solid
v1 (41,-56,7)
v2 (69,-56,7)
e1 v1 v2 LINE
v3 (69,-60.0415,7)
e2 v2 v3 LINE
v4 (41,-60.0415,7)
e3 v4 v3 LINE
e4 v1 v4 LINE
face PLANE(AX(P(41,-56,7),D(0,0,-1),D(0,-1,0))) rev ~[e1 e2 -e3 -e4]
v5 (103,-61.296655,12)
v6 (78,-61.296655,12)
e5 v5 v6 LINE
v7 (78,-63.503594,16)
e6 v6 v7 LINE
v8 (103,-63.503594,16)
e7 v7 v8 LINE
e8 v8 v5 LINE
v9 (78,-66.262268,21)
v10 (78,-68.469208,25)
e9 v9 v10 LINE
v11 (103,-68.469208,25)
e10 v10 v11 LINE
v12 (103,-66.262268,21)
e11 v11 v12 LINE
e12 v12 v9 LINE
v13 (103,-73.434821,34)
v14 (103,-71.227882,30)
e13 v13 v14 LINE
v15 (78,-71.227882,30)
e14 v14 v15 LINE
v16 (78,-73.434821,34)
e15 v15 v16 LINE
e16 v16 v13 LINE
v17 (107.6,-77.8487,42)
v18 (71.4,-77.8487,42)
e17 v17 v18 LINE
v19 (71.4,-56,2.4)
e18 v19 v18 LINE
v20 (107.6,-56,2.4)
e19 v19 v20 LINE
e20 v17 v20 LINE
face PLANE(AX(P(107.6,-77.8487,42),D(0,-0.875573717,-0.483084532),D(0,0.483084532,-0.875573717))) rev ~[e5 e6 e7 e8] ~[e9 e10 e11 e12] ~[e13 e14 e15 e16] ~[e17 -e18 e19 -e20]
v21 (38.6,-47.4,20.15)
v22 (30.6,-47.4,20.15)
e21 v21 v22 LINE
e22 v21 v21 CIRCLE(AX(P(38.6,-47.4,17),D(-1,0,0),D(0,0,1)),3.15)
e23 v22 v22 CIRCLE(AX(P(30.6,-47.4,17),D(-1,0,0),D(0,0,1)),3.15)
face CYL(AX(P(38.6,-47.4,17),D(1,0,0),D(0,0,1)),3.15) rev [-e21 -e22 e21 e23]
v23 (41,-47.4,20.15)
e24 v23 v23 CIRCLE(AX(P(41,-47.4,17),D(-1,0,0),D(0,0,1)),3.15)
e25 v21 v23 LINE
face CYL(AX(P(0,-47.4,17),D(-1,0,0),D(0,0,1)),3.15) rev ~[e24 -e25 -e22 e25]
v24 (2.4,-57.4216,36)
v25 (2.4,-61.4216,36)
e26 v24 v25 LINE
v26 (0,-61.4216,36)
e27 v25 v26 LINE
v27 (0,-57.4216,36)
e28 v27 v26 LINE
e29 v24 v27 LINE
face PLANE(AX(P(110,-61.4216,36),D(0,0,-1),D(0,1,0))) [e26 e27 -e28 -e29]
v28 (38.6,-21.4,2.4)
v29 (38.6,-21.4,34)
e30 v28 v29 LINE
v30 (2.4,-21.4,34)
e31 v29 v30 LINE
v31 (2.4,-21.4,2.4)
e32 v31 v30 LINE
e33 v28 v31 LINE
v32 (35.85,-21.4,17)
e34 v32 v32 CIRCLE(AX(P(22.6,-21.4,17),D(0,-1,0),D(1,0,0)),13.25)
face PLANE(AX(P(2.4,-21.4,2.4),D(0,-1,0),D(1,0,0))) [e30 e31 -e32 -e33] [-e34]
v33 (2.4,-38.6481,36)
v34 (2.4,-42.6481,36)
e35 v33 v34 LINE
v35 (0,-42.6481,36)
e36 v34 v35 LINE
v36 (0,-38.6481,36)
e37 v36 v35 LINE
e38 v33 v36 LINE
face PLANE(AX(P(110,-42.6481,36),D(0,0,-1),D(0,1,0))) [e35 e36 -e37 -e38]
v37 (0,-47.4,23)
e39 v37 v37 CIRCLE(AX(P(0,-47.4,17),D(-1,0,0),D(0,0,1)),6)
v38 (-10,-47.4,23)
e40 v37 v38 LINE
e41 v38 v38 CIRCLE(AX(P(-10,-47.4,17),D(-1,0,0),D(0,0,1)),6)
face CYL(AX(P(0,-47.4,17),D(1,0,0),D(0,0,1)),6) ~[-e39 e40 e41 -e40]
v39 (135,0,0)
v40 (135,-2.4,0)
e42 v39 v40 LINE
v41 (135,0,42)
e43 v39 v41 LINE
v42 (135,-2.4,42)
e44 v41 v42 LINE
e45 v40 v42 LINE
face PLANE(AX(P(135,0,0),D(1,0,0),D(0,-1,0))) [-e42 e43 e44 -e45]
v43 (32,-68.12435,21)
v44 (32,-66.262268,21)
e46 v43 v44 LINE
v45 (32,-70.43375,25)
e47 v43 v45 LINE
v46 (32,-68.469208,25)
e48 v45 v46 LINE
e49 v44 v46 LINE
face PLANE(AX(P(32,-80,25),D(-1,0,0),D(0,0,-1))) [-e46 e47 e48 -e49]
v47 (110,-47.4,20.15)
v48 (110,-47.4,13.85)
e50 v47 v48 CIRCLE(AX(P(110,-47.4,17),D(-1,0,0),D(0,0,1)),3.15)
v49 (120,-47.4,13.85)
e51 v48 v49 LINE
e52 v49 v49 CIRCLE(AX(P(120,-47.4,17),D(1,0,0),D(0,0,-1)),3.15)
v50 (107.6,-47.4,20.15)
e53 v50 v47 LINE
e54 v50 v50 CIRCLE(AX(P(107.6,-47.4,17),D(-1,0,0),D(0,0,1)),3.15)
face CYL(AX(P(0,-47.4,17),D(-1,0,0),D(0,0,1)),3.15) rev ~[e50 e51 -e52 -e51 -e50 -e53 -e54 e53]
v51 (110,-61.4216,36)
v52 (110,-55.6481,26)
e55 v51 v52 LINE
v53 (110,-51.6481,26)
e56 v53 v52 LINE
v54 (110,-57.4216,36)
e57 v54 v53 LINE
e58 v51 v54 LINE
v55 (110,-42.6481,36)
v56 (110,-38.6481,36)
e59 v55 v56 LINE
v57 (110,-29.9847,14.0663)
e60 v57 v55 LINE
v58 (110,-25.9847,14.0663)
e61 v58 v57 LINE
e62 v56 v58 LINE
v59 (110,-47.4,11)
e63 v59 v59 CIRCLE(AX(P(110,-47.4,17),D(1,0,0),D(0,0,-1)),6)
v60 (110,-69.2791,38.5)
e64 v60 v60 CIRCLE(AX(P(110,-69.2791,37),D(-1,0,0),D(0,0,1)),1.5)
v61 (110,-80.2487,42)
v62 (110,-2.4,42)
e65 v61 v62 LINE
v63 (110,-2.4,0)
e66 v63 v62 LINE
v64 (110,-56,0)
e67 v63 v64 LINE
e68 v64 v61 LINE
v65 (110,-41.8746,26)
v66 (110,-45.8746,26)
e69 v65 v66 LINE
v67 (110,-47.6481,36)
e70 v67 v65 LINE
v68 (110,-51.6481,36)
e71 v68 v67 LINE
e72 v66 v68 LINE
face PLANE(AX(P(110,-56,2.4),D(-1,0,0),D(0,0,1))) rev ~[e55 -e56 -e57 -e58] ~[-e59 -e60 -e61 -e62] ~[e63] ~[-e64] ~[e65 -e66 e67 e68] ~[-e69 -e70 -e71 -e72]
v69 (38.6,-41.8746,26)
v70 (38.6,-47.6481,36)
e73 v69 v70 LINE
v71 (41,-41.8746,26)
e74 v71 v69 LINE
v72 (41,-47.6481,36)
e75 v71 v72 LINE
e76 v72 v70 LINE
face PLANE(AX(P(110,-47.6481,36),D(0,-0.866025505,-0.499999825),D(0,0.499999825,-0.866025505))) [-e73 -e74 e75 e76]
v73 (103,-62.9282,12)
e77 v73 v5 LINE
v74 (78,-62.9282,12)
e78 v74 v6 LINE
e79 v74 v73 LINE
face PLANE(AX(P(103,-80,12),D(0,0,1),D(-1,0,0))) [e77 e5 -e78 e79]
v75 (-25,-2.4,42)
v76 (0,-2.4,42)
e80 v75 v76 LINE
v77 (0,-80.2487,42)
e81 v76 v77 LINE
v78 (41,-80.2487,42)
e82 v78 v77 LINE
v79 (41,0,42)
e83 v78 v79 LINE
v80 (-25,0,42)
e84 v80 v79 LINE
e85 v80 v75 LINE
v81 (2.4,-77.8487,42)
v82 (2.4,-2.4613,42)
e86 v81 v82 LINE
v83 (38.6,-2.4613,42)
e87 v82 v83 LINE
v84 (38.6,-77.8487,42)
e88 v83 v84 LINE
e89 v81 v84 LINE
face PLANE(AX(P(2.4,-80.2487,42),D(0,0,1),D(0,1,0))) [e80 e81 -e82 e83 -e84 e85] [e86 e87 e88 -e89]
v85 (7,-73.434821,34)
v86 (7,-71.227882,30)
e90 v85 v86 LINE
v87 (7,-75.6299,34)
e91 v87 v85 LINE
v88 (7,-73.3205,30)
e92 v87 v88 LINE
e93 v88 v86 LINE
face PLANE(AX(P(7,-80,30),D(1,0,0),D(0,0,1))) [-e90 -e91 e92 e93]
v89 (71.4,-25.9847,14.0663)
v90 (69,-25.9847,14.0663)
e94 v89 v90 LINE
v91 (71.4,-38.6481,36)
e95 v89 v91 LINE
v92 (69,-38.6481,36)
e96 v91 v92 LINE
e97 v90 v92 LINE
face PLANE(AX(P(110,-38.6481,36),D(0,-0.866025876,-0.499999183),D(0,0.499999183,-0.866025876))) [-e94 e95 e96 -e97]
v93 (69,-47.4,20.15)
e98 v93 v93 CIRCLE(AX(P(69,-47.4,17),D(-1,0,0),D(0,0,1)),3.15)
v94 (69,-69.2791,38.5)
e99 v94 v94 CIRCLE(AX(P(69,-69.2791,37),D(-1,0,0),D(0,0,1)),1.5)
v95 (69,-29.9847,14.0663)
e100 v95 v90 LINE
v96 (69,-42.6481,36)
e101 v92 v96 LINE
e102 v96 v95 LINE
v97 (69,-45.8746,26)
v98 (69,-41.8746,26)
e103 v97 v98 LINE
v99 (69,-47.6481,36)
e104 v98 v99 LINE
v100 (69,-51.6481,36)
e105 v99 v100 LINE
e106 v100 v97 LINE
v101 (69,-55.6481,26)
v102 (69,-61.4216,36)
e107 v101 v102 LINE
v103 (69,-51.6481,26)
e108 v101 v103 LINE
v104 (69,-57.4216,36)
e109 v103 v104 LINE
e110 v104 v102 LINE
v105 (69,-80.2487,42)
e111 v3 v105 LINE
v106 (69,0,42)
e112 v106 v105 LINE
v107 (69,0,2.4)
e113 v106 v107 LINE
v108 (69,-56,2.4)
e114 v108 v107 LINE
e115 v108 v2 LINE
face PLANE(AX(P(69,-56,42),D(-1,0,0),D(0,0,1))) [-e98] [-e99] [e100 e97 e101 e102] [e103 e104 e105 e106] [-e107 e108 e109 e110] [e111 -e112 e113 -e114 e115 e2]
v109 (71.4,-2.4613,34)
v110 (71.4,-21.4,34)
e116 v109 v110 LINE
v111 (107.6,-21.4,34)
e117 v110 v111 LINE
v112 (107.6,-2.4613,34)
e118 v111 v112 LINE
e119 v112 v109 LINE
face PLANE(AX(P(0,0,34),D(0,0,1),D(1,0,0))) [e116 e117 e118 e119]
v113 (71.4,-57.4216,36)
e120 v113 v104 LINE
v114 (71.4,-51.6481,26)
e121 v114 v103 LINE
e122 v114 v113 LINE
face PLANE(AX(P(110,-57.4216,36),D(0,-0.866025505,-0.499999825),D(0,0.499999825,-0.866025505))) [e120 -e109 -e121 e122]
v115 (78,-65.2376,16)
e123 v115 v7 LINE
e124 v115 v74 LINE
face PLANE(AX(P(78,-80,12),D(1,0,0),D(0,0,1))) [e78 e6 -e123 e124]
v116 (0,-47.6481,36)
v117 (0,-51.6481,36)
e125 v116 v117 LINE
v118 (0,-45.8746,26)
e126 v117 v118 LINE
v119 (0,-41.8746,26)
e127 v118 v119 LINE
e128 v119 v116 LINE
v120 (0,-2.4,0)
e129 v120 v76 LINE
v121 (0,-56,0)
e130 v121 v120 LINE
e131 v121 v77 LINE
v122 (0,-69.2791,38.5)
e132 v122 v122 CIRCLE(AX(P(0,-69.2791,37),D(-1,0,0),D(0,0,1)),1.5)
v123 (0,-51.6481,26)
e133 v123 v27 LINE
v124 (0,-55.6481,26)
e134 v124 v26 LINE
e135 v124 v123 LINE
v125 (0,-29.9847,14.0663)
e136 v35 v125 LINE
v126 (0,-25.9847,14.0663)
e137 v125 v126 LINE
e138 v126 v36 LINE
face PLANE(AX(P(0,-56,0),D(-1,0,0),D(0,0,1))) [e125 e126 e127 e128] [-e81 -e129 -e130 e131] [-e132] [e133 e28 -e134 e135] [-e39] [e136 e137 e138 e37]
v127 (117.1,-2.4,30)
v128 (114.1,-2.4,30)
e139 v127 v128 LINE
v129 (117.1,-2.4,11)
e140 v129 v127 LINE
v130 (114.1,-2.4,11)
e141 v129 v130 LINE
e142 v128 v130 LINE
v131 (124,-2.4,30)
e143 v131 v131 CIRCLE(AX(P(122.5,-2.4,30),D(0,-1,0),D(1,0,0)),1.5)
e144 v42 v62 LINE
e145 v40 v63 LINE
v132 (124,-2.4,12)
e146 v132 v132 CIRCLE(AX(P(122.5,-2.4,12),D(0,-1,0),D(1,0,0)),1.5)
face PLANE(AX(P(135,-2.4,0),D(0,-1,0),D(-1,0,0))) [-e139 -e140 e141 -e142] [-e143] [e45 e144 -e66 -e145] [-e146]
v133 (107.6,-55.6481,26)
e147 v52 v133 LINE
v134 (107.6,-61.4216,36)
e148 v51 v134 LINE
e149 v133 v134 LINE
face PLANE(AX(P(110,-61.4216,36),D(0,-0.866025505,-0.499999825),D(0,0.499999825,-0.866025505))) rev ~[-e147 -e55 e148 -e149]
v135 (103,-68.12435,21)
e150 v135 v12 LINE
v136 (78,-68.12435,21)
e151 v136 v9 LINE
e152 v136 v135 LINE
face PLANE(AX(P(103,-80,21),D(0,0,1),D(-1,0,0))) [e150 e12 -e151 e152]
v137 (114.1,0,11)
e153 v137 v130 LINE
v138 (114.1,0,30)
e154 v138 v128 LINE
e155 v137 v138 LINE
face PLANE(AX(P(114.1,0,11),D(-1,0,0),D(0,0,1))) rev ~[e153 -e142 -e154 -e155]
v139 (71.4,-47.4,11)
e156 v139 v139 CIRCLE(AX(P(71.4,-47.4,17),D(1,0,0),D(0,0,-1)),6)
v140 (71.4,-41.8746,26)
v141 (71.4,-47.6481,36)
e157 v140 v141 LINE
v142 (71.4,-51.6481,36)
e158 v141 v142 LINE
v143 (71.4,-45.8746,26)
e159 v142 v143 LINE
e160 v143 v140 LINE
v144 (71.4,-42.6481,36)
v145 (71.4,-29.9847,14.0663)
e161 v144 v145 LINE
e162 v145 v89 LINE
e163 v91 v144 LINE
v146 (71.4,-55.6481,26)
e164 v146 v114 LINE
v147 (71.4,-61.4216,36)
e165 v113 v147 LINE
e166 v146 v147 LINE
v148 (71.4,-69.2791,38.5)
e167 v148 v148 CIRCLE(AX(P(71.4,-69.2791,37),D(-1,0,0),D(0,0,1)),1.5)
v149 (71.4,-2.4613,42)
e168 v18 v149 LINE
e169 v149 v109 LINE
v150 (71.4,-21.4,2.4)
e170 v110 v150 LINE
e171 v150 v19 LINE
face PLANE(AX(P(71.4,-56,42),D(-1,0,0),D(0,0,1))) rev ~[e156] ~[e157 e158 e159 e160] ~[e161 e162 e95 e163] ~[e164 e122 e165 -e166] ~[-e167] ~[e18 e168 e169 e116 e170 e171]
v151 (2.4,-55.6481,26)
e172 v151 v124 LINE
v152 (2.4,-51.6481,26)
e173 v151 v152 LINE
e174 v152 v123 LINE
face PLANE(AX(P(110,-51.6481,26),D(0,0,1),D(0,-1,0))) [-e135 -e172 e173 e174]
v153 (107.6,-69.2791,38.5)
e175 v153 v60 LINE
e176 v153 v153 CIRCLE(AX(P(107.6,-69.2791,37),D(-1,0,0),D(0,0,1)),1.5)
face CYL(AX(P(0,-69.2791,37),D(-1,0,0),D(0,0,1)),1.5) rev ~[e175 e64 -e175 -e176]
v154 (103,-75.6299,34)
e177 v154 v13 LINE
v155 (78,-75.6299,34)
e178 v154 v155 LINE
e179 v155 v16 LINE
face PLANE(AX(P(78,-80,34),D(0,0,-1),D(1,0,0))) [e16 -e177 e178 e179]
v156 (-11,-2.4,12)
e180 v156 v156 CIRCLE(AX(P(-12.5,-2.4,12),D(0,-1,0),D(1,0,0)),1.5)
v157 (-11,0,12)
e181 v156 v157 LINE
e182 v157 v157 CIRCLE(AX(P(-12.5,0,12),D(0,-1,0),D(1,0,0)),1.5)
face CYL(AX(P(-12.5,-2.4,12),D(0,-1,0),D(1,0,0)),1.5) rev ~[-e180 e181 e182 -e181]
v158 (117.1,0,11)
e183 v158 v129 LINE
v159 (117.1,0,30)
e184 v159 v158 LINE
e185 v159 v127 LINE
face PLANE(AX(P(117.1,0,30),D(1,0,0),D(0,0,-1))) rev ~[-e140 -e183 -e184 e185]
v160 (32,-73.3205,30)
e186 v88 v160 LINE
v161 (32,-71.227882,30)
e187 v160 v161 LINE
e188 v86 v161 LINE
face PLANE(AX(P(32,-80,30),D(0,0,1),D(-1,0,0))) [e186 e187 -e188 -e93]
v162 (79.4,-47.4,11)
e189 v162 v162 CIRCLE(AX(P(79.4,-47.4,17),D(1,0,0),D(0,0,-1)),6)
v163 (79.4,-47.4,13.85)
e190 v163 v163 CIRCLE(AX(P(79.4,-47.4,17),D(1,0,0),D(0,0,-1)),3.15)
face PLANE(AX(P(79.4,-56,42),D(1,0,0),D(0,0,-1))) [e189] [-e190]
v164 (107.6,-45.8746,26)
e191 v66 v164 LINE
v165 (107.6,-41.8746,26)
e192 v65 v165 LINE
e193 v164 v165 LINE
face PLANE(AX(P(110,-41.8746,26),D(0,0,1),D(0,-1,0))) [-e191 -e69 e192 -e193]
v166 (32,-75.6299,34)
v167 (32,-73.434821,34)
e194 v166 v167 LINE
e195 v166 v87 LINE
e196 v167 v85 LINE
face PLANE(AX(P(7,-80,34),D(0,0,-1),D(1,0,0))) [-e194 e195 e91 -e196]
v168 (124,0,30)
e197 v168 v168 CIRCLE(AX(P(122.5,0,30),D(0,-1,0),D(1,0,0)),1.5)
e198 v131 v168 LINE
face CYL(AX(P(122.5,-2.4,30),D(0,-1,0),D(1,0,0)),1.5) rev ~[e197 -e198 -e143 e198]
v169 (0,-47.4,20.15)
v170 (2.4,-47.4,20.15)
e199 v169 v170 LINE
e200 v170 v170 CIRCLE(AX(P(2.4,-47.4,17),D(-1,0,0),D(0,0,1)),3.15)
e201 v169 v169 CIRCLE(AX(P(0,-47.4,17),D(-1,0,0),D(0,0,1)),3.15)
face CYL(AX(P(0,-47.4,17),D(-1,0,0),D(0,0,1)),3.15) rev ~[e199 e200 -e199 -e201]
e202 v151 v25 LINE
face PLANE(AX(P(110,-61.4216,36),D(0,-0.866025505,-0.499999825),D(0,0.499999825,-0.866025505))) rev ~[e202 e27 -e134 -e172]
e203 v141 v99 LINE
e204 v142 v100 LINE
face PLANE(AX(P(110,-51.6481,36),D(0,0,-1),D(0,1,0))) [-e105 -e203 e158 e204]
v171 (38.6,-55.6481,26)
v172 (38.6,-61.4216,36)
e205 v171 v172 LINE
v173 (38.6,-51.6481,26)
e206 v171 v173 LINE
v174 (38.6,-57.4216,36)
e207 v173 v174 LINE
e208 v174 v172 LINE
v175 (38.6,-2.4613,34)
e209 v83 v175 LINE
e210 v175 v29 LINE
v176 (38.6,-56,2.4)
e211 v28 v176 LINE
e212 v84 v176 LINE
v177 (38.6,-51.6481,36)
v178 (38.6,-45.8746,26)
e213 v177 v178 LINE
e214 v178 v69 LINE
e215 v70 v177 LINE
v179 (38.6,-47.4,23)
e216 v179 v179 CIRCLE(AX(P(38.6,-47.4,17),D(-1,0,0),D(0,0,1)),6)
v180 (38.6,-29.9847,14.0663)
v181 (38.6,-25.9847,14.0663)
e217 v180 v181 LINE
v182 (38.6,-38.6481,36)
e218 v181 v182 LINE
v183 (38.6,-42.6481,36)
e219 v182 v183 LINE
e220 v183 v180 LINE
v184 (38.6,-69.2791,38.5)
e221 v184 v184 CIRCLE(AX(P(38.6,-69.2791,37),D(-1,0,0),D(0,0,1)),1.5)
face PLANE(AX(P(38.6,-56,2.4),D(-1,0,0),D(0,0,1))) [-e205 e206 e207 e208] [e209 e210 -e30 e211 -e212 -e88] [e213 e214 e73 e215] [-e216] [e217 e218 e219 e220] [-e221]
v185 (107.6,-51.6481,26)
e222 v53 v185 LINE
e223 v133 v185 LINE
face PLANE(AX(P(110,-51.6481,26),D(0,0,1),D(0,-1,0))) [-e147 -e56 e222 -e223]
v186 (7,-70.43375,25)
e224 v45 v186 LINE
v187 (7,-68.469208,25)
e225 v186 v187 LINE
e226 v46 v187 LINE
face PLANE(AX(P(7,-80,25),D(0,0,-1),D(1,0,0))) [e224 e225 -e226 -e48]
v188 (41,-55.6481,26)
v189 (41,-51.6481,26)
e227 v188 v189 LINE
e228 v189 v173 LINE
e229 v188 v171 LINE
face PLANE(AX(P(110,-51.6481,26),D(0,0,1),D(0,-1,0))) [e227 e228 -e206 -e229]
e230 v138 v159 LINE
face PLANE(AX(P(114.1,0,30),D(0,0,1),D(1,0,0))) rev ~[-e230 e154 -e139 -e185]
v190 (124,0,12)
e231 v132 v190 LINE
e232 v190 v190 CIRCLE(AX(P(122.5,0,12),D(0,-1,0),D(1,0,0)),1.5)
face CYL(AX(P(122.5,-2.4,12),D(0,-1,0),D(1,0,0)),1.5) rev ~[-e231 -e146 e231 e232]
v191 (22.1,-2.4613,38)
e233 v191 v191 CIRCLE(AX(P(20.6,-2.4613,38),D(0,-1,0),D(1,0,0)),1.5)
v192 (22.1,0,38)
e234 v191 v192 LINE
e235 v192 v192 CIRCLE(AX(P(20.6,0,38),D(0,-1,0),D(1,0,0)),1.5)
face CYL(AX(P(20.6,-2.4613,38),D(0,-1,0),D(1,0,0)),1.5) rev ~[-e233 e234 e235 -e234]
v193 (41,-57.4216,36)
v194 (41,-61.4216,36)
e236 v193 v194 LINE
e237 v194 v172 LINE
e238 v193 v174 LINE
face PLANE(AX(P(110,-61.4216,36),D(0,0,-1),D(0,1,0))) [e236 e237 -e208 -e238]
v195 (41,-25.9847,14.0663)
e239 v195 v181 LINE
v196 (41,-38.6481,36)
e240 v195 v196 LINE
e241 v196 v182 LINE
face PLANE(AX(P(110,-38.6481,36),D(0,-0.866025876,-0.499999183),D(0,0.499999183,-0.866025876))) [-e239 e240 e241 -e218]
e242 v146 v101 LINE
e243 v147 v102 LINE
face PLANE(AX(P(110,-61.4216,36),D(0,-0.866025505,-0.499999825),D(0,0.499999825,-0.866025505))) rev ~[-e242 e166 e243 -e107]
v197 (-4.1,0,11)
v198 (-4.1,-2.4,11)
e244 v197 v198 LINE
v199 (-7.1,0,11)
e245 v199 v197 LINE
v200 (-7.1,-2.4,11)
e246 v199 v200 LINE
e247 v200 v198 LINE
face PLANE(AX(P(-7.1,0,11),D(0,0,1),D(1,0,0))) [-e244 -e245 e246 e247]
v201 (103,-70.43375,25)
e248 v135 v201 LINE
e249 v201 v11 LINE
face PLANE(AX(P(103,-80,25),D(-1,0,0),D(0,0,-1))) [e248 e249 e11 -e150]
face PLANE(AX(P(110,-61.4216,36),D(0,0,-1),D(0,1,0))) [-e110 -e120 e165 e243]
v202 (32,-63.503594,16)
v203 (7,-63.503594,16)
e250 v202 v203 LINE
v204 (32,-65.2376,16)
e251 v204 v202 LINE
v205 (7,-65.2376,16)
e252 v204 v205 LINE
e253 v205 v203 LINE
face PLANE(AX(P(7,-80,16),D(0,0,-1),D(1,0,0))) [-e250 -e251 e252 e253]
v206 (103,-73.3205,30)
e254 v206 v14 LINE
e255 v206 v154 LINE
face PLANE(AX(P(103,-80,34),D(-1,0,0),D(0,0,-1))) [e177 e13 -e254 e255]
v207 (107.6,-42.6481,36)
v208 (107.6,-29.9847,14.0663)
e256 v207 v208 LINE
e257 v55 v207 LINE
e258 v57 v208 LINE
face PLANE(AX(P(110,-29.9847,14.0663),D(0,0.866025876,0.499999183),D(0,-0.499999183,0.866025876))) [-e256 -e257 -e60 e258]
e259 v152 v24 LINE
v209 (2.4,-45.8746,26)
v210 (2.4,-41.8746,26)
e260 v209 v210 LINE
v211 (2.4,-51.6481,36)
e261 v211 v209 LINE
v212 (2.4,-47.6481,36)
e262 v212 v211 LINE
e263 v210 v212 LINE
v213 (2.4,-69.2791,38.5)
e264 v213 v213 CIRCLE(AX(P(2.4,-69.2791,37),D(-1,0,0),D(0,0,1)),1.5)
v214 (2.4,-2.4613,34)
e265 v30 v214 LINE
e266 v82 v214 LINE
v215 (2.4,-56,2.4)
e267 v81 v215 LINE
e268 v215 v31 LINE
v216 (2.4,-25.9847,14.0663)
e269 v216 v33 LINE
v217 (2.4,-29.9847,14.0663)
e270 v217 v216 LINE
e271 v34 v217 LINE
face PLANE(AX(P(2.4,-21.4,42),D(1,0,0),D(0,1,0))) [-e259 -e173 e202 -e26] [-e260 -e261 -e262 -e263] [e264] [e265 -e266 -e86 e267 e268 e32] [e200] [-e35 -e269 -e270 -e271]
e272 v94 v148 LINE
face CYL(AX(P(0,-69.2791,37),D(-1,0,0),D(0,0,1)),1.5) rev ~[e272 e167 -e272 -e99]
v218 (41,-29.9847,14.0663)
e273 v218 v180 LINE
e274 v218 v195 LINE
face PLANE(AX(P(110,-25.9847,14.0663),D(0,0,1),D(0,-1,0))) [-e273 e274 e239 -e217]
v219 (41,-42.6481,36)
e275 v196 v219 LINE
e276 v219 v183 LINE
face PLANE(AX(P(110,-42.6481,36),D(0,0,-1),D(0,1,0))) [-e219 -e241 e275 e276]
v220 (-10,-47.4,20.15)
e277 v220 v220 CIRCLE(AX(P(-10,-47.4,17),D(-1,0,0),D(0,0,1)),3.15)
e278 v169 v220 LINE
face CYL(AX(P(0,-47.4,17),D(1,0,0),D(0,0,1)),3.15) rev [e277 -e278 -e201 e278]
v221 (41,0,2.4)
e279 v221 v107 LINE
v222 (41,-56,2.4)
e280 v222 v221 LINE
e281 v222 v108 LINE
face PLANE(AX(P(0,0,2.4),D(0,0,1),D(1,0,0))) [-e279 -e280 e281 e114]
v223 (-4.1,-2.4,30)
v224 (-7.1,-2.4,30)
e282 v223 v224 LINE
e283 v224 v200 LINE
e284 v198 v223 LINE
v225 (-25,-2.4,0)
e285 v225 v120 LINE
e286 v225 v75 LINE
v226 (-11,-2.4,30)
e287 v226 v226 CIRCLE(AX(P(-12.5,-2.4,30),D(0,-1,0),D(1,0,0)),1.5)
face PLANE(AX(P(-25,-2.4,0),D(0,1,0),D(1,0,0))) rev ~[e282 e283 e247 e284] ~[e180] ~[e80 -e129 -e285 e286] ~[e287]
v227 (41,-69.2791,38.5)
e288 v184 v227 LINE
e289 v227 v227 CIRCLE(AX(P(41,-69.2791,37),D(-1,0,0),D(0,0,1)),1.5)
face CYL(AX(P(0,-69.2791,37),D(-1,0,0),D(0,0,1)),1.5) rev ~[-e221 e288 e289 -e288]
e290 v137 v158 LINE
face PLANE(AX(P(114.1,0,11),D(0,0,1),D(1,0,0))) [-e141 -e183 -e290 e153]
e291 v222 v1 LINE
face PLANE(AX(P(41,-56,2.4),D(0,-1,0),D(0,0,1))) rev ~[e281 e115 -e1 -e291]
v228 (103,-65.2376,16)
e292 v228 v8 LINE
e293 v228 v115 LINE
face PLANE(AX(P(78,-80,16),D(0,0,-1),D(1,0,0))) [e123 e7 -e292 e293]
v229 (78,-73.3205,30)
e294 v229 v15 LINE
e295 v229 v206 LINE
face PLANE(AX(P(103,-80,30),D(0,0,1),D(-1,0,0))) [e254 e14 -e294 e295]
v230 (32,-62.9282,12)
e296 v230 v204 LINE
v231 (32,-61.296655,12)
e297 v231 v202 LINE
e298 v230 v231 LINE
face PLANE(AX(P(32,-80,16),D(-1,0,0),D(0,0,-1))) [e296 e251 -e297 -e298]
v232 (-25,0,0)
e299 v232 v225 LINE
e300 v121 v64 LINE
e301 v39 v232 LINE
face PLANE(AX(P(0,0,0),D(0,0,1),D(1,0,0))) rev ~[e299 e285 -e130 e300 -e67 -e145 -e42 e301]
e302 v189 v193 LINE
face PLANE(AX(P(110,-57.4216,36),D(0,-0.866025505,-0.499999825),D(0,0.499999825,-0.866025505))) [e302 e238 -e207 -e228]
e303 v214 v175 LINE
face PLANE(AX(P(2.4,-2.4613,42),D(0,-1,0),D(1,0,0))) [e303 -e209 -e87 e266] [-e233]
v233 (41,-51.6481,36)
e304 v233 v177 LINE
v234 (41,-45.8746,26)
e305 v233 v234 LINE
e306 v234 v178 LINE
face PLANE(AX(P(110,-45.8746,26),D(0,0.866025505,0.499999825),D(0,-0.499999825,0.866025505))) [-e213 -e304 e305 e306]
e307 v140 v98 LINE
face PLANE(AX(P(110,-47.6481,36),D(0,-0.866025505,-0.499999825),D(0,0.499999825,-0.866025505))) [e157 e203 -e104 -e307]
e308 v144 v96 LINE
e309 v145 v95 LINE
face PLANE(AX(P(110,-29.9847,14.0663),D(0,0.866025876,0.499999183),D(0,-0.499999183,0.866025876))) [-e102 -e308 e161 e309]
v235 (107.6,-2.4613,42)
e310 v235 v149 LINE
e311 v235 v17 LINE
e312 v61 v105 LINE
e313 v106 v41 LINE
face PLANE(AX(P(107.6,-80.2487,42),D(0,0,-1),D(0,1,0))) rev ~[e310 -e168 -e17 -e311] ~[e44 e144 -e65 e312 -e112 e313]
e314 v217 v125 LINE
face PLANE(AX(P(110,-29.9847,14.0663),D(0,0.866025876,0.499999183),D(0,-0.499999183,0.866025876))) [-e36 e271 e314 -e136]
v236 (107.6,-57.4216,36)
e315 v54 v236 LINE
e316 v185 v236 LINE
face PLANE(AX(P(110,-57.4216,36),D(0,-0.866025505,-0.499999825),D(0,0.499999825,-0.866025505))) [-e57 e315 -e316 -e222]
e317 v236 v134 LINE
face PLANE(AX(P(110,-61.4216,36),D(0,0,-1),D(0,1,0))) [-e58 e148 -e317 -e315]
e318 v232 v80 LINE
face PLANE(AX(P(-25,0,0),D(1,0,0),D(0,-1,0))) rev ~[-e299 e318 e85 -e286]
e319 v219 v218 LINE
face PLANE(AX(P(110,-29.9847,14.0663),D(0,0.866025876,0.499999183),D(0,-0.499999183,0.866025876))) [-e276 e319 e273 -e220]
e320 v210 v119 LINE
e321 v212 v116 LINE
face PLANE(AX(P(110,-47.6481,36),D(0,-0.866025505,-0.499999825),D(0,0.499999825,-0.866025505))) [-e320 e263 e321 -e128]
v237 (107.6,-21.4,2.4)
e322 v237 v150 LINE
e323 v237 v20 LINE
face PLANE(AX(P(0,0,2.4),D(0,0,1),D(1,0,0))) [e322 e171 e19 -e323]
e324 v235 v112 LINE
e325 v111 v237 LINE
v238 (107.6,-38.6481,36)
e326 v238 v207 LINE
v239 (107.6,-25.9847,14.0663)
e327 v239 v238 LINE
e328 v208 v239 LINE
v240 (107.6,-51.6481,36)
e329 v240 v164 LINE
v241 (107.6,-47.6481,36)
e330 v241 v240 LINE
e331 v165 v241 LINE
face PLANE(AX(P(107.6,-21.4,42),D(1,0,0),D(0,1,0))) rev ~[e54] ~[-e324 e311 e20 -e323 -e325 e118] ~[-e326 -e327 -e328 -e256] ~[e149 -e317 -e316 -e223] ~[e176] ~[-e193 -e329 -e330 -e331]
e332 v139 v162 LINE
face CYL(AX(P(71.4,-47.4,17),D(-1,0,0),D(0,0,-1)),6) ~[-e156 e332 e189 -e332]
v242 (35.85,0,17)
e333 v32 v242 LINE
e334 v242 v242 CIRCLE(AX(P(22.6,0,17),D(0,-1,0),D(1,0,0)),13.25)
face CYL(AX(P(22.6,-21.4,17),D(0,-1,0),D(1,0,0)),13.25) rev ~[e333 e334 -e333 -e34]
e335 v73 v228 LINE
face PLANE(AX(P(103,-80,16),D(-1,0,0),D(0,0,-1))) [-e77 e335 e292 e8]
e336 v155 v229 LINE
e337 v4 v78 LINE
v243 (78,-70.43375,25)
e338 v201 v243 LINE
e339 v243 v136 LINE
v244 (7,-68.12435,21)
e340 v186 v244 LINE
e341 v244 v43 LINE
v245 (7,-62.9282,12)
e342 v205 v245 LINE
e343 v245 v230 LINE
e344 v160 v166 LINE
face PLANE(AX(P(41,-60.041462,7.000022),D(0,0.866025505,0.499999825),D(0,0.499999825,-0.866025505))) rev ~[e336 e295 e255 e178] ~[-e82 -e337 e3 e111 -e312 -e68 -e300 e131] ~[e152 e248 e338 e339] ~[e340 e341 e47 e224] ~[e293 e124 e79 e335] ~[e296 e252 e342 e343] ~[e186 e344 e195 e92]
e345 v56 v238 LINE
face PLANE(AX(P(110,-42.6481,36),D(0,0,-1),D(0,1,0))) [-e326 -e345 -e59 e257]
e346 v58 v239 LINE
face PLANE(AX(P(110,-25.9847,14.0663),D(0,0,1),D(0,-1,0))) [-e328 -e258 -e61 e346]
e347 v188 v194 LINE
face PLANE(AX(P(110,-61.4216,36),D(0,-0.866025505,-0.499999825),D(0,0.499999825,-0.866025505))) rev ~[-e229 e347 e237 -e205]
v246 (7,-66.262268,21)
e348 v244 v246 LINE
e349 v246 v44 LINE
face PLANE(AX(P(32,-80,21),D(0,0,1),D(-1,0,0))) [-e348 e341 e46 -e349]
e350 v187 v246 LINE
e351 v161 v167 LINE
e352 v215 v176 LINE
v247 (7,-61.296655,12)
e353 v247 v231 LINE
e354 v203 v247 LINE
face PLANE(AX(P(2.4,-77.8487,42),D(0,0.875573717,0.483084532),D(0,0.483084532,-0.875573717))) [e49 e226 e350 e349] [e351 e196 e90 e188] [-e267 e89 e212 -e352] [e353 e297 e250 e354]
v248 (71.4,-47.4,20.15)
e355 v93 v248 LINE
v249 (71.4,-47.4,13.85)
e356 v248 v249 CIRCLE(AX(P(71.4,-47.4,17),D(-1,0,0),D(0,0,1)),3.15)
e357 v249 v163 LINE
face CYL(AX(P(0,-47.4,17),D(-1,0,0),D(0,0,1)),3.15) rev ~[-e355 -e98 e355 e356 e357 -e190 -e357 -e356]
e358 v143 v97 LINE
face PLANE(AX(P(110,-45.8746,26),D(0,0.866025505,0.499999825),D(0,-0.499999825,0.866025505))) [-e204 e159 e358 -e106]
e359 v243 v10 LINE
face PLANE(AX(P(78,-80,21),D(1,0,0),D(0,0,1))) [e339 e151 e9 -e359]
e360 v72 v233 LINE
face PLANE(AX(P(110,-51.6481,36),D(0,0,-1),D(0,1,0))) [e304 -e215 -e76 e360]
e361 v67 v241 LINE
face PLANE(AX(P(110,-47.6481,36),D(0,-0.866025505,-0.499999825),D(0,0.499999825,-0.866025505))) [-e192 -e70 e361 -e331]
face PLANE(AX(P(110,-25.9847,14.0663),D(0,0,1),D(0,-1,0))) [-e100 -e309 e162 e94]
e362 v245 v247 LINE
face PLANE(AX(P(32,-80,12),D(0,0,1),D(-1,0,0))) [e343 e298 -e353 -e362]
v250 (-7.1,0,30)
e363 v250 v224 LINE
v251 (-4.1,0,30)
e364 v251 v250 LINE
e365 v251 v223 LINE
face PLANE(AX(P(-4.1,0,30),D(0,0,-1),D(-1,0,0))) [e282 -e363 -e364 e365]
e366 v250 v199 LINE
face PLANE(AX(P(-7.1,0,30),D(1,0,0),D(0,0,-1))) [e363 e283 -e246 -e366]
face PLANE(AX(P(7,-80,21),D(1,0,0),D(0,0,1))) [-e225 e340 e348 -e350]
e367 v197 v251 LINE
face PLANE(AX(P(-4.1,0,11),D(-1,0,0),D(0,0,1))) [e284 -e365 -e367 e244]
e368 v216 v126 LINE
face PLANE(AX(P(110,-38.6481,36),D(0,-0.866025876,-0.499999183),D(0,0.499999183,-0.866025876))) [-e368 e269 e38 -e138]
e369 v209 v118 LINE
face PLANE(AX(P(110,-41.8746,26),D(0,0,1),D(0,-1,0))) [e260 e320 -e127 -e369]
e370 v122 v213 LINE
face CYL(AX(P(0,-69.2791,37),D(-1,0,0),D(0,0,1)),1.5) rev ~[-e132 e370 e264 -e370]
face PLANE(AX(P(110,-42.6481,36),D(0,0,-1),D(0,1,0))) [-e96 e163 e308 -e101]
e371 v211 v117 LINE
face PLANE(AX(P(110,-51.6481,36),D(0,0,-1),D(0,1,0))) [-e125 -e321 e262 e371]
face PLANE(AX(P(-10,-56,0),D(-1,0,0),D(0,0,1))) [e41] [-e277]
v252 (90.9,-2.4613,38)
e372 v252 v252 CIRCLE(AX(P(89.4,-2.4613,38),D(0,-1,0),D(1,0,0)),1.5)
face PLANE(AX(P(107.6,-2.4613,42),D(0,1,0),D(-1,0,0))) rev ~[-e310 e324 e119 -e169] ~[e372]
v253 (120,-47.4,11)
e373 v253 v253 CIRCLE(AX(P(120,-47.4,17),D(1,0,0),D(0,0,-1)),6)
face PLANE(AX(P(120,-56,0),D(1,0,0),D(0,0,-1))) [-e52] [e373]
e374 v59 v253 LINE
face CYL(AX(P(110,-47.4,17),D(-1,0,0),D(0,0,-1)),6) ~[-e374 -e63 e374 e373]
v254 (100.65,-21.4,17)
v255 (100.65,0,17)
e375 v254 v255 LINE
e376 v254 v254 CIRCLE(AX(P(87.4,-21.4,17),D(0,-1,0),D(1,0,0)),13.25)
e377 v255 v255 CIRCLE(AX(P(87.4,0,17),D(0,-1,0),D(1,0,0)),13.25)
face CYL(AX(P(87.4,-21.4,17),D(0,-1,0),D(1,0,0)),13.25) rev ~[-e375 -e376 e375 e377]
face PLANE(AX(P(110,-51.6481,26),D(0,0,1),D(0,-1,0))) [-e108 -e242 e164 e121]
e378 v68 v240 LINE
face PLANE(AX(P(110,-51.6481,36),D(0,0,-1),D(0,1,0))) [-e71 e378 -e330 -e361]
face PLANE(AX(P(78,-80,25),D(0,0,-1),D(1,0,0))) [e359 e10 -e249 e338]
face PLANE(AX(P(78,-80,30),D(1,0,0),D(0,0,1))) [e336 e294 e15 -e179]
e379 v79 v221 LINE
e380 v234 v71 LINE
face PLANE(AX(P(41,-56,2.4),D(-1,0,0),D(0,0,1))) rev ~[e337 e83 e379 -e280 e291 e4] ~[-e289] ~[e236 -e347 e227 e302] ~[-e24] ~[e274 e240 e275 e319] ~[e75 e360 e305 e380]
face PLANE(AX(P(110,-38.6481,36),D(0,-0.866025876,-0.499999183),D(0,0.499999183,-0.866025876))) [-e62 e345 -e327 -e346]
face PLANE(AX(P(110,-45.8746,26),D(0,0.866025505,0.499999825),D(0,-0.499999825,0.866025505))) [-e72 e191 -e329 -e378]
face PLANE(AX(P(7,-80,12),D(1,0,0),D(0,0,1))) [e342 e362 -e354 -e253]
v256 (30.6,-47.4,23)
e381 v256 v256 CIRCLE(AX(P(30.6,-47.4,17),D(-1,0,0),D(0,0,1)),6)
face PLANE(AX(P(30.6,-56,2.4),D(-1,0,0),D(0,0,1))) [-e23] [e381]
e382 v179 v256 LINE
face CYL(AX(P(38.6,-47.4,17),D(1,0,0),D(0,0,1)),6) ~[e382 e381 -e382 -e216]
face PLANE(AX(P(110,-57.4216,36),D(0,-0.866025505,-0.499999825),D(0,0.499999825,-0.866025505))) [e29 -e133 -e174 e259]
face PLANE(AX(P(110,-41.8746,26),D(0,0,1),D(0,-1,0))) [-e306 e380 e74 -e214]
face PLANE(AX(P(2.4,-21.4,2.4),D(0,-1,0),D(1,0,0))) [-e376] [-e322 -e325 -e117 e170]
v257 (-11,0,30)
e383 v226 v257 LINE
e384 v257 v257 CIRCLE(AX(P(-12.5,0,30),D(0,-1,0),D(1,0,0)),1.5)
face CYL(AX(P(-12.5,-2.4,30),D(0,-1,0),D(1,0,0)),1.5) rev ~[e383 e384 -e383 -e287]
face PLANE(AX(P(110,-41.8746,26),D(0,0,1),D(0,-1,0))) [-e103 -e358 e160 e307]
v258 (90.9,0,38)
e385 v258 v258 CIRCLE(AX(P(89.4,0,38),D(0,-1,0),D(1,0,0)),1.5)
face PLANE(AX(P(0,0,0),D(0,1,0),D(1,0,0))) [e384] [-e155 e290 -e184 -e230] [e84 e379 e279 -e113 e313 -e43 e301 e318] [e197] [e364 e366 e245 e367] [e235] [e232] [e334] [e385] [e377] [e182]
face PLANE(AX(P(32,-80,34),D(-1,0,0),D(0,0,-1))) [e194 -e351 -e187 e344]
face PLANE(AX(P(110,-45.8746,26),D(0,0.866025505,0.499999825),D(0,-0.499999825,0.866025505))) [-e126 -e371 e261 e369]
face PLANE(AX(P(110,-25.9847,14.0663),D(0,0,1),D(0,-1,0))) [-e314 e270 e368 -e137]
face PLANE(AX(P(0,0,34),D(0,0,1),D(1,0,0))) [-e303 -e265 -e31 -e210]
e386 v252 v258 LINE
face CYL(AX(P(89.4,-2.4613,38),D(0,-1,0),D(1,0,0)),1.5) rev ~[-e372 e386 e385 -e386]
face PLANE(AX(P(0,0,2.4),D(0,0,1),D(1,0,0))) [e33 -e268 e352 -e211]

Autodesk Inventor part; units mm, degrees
ref_plane "YZ Plane" through (0, 0, 0) normal (1, 0, 0) x (0, 1, 0)
ref_plane "XY Plane" through (0, 0, 0) normal (0, 0, 1) x (1, 0, 0)
sketch "Sketch1" plane through (0, 0, 0) normal (0, 0, 1) x (1, 0, 0)
  line L0 (0, 0) -> (110, 0)
  line L1 (110, 0) -> (110, -56)
  line L2 (110, -56) -> (0, -56)
  line L3 (0, -56) -> (0, 0)
  line L4 (0, 0) -> (-25, 0)
  line L5 (-25, 0) -> (-25, -2.4)
  line L6 (-25, -2.4) -> (0, -2.4)
  line L7 (0, -2.4) -> (0, 0)
  line L8 (110, 0) -> (135, 0)
  line L9 (135, 0) -> (135, -2.4)
  line L10 (135, -2.4) -> (110, -2.4)
  line L11 (110, -2.4) -> (110, 0)
  dimension "d0" = 110
  dimension "d1" = 56
  dimension "d2" = 25
  dimension "d3" = 2.4
  dimension "d4" = 25
  dimension "d5" = 2.4
extrude "Extrusion1" add sketch "Sketch1" along normal blind 42
sketch "Sketch2" plane through (0, 0, 42) normal (0, 0, 1) x (1, 0, 0)
  line L0 (2.4, -2.4) -> (107.6, -2.4)
  line L1 (107.6, -2.4) -> (107.6, -54.7735)
  line L2 (2.4, -54.7735) -> (2.4, -2.4)
  line L3 (110, -56) -> (110, -2.4) projected
  line L4 (0, -2.4) -> (0, -56) projected
  line L5 (107.6, -54.7735) -> (107.6, -56)
  line L6 (2.4, -54.7735) -> (2.4, -56)
  line L7 (0, -56) -> (110, -56) projected
  point P0 (0, 0)
  dimension "d8" = 2.4
  dimension "d9" = 2.4
extrude "Extrusion2" cut sketch "Sketch2" against normal blind 39.6
sketch "Sketch3" plane through (0, 0, 42) normal (0, 0, 1) x (1, 0, 0)
  line L0 (135, 0) -> (-25, 0) projected
  line L1 (55, 0) -> (69, 0)
  line L2 (55, 0) -> (41, 0)
  line L3 (41, 0) -> (41, -2.4)
  line L4 (2.4, -2.4) -> (107.6, -2.4) projected
  line L5 (69, -2.4) -> (41, -2.4)
  line L6 (69, -2.4) -> (69, 0)
  point P0 (0, 0)
  dimension "d12" = 14
  dimension "d13" = 14
extrude "Extrusion3" cut sketch "Sketch3" against normal blind 39.6
sketch "Sketch4" plane through (0, 0, 2.4) normal (0, 0, 1) x (1, 0, 0)
  line L0 (2.4, -2.4) -> (41, -2.4) projected
  line L1 (107.6, -56) -> (2.4, -56) projected
  line L2 (41, -2.4) -> (38.6, -2.4)
  line L3 (38.6, -2.4) -> (38.6, -56)
  line L4 (38.6, -56) -> (41, -56)
  line L5 (41, -56) -> (41, -2.4)
  line L6 (69, -2.4) -> (107.6, -2.4) projected
  line L7 (69, -2.4) -> (71.4, -2.4)
  line L8 (71.4, -2.4) -> (71.4, -56)
  line L9 (71.4, -56) -> (69, -56)
  line L10 (69, -56) -> (69, -2.4)
  point P0 (0, 0)
  dimension "d16" = 2.4
  dimension "d17" = 2.4
extrude "Extrusion4" add sketch "Sketch4" along normal blind 39.6
sketch "Sketch5" plane through (-25, -2.4, 0) normal (0, -1, 0) x (1, 0, 0)
  circle A0 centre (12.5, 30) radius 1.5
  circle A1 centre (12.5, 12) radius 1.5
  line L0 (0, 42) -> (25, 42) projected
  line L1 (0, 0) -> (25, 0) projected
  circle A2 centre (147.5, 30) radius 1.5
  circle A3 centre (147.5, 12) radius 1.5
  line L2 (0, 0) -> (0, 42) projected
  line L3 (160, 0) -> (160, 42) projected
  dimension "d20" = 3
  dimension "d21" = 3
  dimension "d22" = 12
  dimension "d23" = 12
  dimension "d51" = 3
  dimension "d52" = 3
  dimension "d53" = 12.5
  dimension "d54" = 12.5
  dimension "d55" = 12.5
sketch "Sketch6" plane through (2.4, -2.4, 2.4) normal (0, -1, 0) x (1, 0, 0)
  line L0 (36.2, 0) -> (36.2, 39.6) projected
  line L1 (0, 39.6) -> (36.2, 39.6)
  line L2 (36.2, 39.6) -> (36.2, 0)
  line L3 (36.2, 0) -> (0, 0)
  line L4 (0, 0) -> (0, 39.6)
  line L5 (69, 39.6) -> (69, 0) projected
  line L6 (105.2, 39.6) -> (105.2, 0) projected
  line L7 (69, 39.6) -> (105.2, 39.6)
  line L8 (105.2, 39.6) -> (105.2, 0)
  line L9 (105.2, 0) -> (69, 0)
  line L10 (69, 0) -> (69, 39.6)
  point P0 (-2.4, -2.4)
extrude "Extrusion5" add sketch "Sketch6" along normal blind 19
sketch "Sketch7" plane through (0, -56, 0) normal (-1, 0, 0) x (0, 0, 1)
  circle A0 centre (17, 8.6) radius 3.15
  line L0 (0, 53.6) -> (0, 0) projected
  line L1 (0, 53.6) -> (42, 53.6) projected
  point P0 (0, 56)
  dimension "d26" = 6.3
  dimension "d27" = 17
  dimension "d28" = 45
extrude "Extrusion6" cut sketch "Sketch7" against normal blind 110
sketch "Sketch8" plane through (0, -56, 0) normal (-1, 0, 0) x (0, 0, 1)
  circle A0 centre (17, 8.6) radius 3.15 projected
  circle A1 centre (17, 8.6) radius 6
  point P0 (0, 56)
  dimension "d31" = 12
extrude "Extrusion7" add sketch "Sketch8" along normal blind 10
sketch "Sketch9" plane through (38.6, -56, 2.4) normal (-1, 0, 0) x (0, 0, 1)
  circle A0 centre (14.6, 8.6) radius 3.15 projected
  circle A1 centre (14.6, 8.6) radius 6
  point P0 (-2.4, 56)
  dimension "d34" = 12
extrude "Extrusion8" add sketch "Sketch9" along normal blind 8
sketch "Sketch10" plane through (110, -56, 0) normal (1, 0, 0) x (0, 0, -1)
  circle A0 centre (-17, 8.6) radius 3.15 projected
  circle A1 centre (-17, 8.6) radius 6
  point P0 (0, 56)
  dimension "d37" = 12
extrude "Extrusion9" add sketch "Sketch10" along normal blind 10
sketch "Sketch11" plane through (71.4, -56, 42) normal (1, 0, 0) x (0, 0, -1)
  circle A0 centre (25, 8.6) radius 3.15 projected
  circle A1 centre (25, 8.6) radius 6
  point P0 (42, 56)
  dimension "d40" = 12
extrude "Extrusion10" add sketch "Sketch11" along normal blind 8
sketch "Sketch12" plane through (2.4, -21.4, 2.4) normal (0, -1, 0) x (1, 0, 0)
  circle A0 centre (20.2, 14.6) radius 13.25
  circle A1 centre (85, 14.6) radius 13.25
  line L0 (69, 0) -> (69, 39.6) projected
  line L1 (36.2, 0) -> (36.2, 39.6) projected
  line L2 (36.2, 39.6) -> (0, 39.6) projected
  line L3 (105.2, 39.6) -> (69, 39.6) projected
  point P0 (-2.4, -2.4)
  dimension "d43" = 26.5
  dimension "d44" = 26.5
  dimension "d45" = 16
  dimension "d46" = 16
  dimension "d47" = 25
  dimension "d48" = 25
extrude "Extrusion11" cut sketch "Sketch12" against normal blind 23
extrude "Extrusion12" cut sketch "Sketch5" against normal blind 20
sketch "Sketch13" plane through (-25, 0, 0) normal (0, 1, 0) x (1, 0, 0)
  line L0 (135, -11) -> (145, -11) projected
  line L1 (139.1, -30) -> (142.1, -30)
  line L2 (142.1, -30) -> (142.1, -11)
  line L3 (142.1, -11) -> (139.1, -11)
  line L4 (139.1, -11) -> (139.1, -30)
  line L5 (20.9, -30) -> (17.9, -30)
  line L6 (17.9, -30) -> (17.9, -11)
  line L7 (17.9, -11) -> (20.9, -11)
  line L8 (20.9, -11) -> (20.9, -30)
  line L9 (132.6, -42) -> (132.6, -2.4) projected
  line L10 (27.4, -2.4) -> (27.4, -42) projected
  point P0 (25, 0)
  dimension "d58" = 3
  dimension "d59" = 3
  dimension "d60" = 6.5
  dimension "d61" = 6.5
extrude "Extrusion13" cut sketch "Sketch13" against normal blind 20
sketch "Sketch21" plane through (0, -56, 0) normal (-1, 0, 0) x (0, 0, 1)
  line L0 (0, 0) -> (42, -24.2487)
  line L1 (0, 0) -> (48.4974, 0) construction
  line L2 (2.4, 0) -> (42, 0) projected
  line L3 (42, -24.2487) -> (42, 0)
  line L4 (0, 53.6) -> (0, 0) projected
  line L5 (0, 0) -> (42, 0)
  point P0 (0, 56)
  dimension "d84" = 30
extrude "Extrusion21" add sketch "Sketch21" against normal blind 2.4
sketch "Sketch22" plane through (38.6, -56, 2.4) normal (-1, 0, 0) x (0, 0, 1)
  line L0 (39.6, 34.6) -> (39.6, 0) projected
  line L1 (39.6, 0) -> (-2.4, 0)
  line L2 (-2.4, 0) -> (39.6, -24.2487)
  line L3 (39.6, -24.2487) -> (39.6, 0)
  point P0 (-2.4, 56)
  dimension "d87" = 30
extrude "Extrusion22" add sketch "Sketch22" against normal blind 2.4
sketch "Sketch23" plane through (69, -56, 42) normal (-1, 0, 0) x (0, 0, 1)
  line L0 (-39.6, 0) -> (0, 0) projected
  line L1 (0, 0) -> (-42, 0)
  line L2 (-42, 0) -> (0, -24.2487)
  line L3 (0, -24.2487) -> (0, 0)
  point P0 (-42, 56)
  dimension "d90" = 30
extrude "Extrusion23" add sketch "Sketch23" against normal blind 2.4
sketch "Sketch24" plane through (107.6, -56, 2.4) normal (-1, 0, 0) x (0, 0, 1)
  line L0 (39.6, 34.6) -> (39.6, 0) projected
  line L1 (39.6, 0) -> (-2.4, 0)
  line L2 (-2.4, 0) -> (39.6, -24.2487)
  line L3 (39.6, -24.2487) -> (39.6, 0)
  point P0 (-2.4, 56)
  dimension "d93" = 30
extrude "Extrusion24" add sketch "Sketch24" against normal blind 2.4
sketch "Sketch25" plane through (107.6, -56, 2.4) normal (-1, 0, 0) x (0, 0, 1)
  line L0 (39.6, -24.2487) -> (39.6, 34.6) projected
  line L1 (-2.4, 0) -> (39.6, -24.2487)
  line L2 (39.6, -24.2487) -> (39.6, -21.8487)
  line L3 (39.6, -21.8487) -> (0, 0)
  line L4 (-2.4, 0) -> (0, 0) projected
  line L5 (0, 0) -> (-2.4, 0)
  point P0 (-2.4, 56)
  dimension "d96" = 2.4
extrude "Extrusion25" add sketch "Sketch25" along normal blind 38
sketch "Sketch26" plane through (2.4, -56, 2.4) normal (1, 0, 0) x (0, 0, -1)
  line L0 (2.4, 53.6) -> (2.4, 0) projected
  line L1 (0, 0) -> (2.4, 0)
  line L2 (-39.6, -24.2487) -> (2.4, 0) projected
  line L3 (2.4, 0) -> (-39.6, -24.2487)
  line L4 (-39.6, -24.2487) -> (-39.6, -21.8487)
  line L5 (-39.6, 34.6) -> (-39.6, -24.2487) projected
  line L6 (-39.6, -21.8487) -> (0, 0)
  point P0 (2.4, 56)
  dimension "d99" = 2.4
extrude "Extrusion26" add sketch "Sketch26" along normal blind 38
sketch "Sketch27" plane through (41, -56, 2.4) normal (1, 0, 0) x (0, 0, -1)
  line L0 (0, 0) -> (2.4, 0) projected
  line L1 (2.4, 0) -> (-4.6, 0)
  line L2 (-4.6, 0) -> (-4.6, -4.0415)
  line L3 (-39.6, -24.2487) -> (2.4, 0) projected
  line L4 (-4.6, -4.0415) -> (2.4, 0)
  point P0 (2.4, 56)
  dimension "d102" = 7
  dimension "d103" = 90
extrude "Extrusion27" add sketch "Sketch27" along normal blind 28
sketch "Sketch28" plane through (0, -2.4, 0) normal (-1, 0, 0) x (0, 0, 1)
  circle A0 centre (37, -66.8791) radius 1.5
  line L0 (42, 0) -> (42, -77.8487) projected
  line L1 (0, -53.6) -> (42, -77.8487) projected
  point P0 (0, 2.4)
  dimension "d106" = 3
  dimension "d107" = 5
  dimension "d108" = 7
extrude "Extrusion28" cut sketch "Sketch28" against normal blind 120
sketch "Sketch29" plane through (110, -2.4, 42) normal (1, 0, 0) x (0, 0, -1)
  line L0 (6, -59.0216) -> (16, -53.2481)
  line L1 (0, -77.8487) -> (42, -53.6) projected
  line L2 (6, -59.0216) -> (6, -55.0216)
  line L3 (6, -55.0216) -> (16, -49.2481)
  line L4 (16, -49.2481) -> (16, -53.2481)
  line L5 (6, -49.2481) -> (6, -45.2481)
  line L6 (6, -45.2481) -> (16, -39.4746)
  line L7 (16, -39.4746) -> (16, -43.4746)
  line L8 (16, -43.4746) -> (6, -49.2481)
  line L9 (0, 0) -> (0, -77.8487) projected
  line L10 (6, -40.2481) -> (6, -36.2481)
  line L11 (6, -36.2481) -> (27.9337, -23.5847)
  line L12 (27.9337, -23.5847) -> (27.9337, -27.5847)
  line L13 (27.9337, -27.5847) -> (6, -40.2481)
  point P0 (42, 2.4)
  dimension "d111" = 4
  dimension "d112" = 10
  dimension "d113" = 4
  dimension "d114" = 4
  dimension "d115" = 10
  dimension "d116" = 6
  dimension "d117" = 6
  dimension "d118" = 5
  dimension "d119" = 4
  dimension "d120" = 4
  dimension "d121" = 5
  dimension "d122" = 6
extrude "Extrusion29" cut sketch "Sketch29" against normal blind 120
sketch "Sketch31" plane through (0, 0, 42) normal (0, 0, 1) x (1, 0, 0)
  line L0 (38.6, -21.4) -> (38.6, -77.8487) projected
  line L1 (2.4, -2.4613) -> (38.6, -2.4613)
  line L2 (38.6, -2.4613) -> (38.6, -21.4)
  line L3 (38.6, -21.4) -> (2.4, -21.4)
  line L4 (2.4, -21.4) -> (2.4, -2.4613)
  line L5 (71.4, -21.4) -> (71.4, -77.8487) projected
  line L6 (71.4, -21.4) -> (107.6, -21.4)
  line L7 (107.6, -21.4) -> (107.6, -2.4613)
  line L8 (107.6, -2.4613) -> (71.4, -2.4613)
  line L9 (71.4, -2.4613) -> (71.4, -21.4)
  point P0 (0, 0)
  dimension "d156" = 36.2
  dimension "d157" = 36.2
extrude "Extrusion30" cut sketch "Sketch31" against normal blind 8
sketch "Sketch32" plane through (2.4, -2.4613, 42) normal (0, -1, 0) x (1, 0, 0)
  circle A0 centre (18.2, -4) radius 1.5
  circle A1 centre (87, -4) radius 1.5
  line L0 (0, 0) -> (36.2, 0) projected
  line L1 (69, 0) -> (105.2, 0) projected
  point P0 (-2.4, -42)
  dimension "d127" = 3
  dimension "d128" = 3
  dimension "d129" = 4
  dimension "d130" = 4
  dimension "d131" = 18
  dimension "d132" = 18
extrude "Extrusion31" cut sketch "Sketch32" against normal blind 8
ref_plane "Work Plane1" through (0, -80, 0) normal (0, 1, 0) x (-1, 0, 0)
sketch "Sketch33" plane through (0, -80, 0) normal (0, 1, 0) x (-1, 0, 0)
  line L0 (-38.6, 34) -> (-71.4, 34) projected
  line L1 (-7, 34) -> (-32, 34)
  line L2 (-32, 34) -> (-32, 30)
  line L3 (-32, 30) -> (-7, 30)
  line L4 (-7, 30) -> (-7, 34)
  line L5 (-7, 25) -> (-32, 25)
  line L6 (-32, 25) -> (-32, 21)
  line L7 (-32, 21) -> (-7, 21)
  line L8 (-7, 21) -> (-7, 25)
  line L9 (-7, 16) -> (-32, 16)
  line L10 (-32, 16) -> (-32, 12)
  line L11 (-32, 12) -> (-7, 12)
  line L12 (-7, 12) -> (-7, 16)
  line L13 (-41, 42) -> (-41, 7) projected
  line L14 (-78, 34) -> (-103, 34)
  line L15 (-103, 34) -> (-103, 30)
  line L16 (-103, 30) -> (-78, 30)
  line L17 (-78, 30) -> (-78, 34)
  line L18 (-78, 25) -> (-103, 25)
  line L19 (-103, 25) -> (-103, 21)
  line L20 (-103, 21) -> (-78, 21)
  line L21 (-78, 21) -> (-78, 25)
  line L22 (-78, 16) -> (-103, 16)
  line L23 (-103, 16) -> (-103, 12)
  line L24 (-103, 12) -> (-78, 12)
  line L25 (-78, 12) -> (-78, 16)
  line L26 (-69, 42) -> (-110, 42) projected
  line L27 (-69, 0) -> (-69, 42) projected
  point P0 (0, 0)
  point P1 (-2.4, 34)
  point P2 (-69, 7)
  dimension "d136" = 25
  dimension "d137" = 4
  dimension "d138" = 4
  dimension "d139" = 4
  dimension "d140" = 5
  dimension "d141" = 5
  dimension "d142" = 9
  dimension "d143" = 25
  dimension "d144" = 4
  dimension "d145" = 25
  dimension "d146" = 4
  dimension "d147" = 25
  dimension "d148" = 4
  dimension "d149" = 5
  dimension "d150" = 5
  dimension "d151" = 8
  dimension "d152" = 9
  dimension "d153" = 9
extrude "Extrusion32" cut sketch "Sketch33" along normal blind 20
equation "\"d54\" = d53"
equation "\"d55\" = d54"
properties part number "Chassi_Rear"
